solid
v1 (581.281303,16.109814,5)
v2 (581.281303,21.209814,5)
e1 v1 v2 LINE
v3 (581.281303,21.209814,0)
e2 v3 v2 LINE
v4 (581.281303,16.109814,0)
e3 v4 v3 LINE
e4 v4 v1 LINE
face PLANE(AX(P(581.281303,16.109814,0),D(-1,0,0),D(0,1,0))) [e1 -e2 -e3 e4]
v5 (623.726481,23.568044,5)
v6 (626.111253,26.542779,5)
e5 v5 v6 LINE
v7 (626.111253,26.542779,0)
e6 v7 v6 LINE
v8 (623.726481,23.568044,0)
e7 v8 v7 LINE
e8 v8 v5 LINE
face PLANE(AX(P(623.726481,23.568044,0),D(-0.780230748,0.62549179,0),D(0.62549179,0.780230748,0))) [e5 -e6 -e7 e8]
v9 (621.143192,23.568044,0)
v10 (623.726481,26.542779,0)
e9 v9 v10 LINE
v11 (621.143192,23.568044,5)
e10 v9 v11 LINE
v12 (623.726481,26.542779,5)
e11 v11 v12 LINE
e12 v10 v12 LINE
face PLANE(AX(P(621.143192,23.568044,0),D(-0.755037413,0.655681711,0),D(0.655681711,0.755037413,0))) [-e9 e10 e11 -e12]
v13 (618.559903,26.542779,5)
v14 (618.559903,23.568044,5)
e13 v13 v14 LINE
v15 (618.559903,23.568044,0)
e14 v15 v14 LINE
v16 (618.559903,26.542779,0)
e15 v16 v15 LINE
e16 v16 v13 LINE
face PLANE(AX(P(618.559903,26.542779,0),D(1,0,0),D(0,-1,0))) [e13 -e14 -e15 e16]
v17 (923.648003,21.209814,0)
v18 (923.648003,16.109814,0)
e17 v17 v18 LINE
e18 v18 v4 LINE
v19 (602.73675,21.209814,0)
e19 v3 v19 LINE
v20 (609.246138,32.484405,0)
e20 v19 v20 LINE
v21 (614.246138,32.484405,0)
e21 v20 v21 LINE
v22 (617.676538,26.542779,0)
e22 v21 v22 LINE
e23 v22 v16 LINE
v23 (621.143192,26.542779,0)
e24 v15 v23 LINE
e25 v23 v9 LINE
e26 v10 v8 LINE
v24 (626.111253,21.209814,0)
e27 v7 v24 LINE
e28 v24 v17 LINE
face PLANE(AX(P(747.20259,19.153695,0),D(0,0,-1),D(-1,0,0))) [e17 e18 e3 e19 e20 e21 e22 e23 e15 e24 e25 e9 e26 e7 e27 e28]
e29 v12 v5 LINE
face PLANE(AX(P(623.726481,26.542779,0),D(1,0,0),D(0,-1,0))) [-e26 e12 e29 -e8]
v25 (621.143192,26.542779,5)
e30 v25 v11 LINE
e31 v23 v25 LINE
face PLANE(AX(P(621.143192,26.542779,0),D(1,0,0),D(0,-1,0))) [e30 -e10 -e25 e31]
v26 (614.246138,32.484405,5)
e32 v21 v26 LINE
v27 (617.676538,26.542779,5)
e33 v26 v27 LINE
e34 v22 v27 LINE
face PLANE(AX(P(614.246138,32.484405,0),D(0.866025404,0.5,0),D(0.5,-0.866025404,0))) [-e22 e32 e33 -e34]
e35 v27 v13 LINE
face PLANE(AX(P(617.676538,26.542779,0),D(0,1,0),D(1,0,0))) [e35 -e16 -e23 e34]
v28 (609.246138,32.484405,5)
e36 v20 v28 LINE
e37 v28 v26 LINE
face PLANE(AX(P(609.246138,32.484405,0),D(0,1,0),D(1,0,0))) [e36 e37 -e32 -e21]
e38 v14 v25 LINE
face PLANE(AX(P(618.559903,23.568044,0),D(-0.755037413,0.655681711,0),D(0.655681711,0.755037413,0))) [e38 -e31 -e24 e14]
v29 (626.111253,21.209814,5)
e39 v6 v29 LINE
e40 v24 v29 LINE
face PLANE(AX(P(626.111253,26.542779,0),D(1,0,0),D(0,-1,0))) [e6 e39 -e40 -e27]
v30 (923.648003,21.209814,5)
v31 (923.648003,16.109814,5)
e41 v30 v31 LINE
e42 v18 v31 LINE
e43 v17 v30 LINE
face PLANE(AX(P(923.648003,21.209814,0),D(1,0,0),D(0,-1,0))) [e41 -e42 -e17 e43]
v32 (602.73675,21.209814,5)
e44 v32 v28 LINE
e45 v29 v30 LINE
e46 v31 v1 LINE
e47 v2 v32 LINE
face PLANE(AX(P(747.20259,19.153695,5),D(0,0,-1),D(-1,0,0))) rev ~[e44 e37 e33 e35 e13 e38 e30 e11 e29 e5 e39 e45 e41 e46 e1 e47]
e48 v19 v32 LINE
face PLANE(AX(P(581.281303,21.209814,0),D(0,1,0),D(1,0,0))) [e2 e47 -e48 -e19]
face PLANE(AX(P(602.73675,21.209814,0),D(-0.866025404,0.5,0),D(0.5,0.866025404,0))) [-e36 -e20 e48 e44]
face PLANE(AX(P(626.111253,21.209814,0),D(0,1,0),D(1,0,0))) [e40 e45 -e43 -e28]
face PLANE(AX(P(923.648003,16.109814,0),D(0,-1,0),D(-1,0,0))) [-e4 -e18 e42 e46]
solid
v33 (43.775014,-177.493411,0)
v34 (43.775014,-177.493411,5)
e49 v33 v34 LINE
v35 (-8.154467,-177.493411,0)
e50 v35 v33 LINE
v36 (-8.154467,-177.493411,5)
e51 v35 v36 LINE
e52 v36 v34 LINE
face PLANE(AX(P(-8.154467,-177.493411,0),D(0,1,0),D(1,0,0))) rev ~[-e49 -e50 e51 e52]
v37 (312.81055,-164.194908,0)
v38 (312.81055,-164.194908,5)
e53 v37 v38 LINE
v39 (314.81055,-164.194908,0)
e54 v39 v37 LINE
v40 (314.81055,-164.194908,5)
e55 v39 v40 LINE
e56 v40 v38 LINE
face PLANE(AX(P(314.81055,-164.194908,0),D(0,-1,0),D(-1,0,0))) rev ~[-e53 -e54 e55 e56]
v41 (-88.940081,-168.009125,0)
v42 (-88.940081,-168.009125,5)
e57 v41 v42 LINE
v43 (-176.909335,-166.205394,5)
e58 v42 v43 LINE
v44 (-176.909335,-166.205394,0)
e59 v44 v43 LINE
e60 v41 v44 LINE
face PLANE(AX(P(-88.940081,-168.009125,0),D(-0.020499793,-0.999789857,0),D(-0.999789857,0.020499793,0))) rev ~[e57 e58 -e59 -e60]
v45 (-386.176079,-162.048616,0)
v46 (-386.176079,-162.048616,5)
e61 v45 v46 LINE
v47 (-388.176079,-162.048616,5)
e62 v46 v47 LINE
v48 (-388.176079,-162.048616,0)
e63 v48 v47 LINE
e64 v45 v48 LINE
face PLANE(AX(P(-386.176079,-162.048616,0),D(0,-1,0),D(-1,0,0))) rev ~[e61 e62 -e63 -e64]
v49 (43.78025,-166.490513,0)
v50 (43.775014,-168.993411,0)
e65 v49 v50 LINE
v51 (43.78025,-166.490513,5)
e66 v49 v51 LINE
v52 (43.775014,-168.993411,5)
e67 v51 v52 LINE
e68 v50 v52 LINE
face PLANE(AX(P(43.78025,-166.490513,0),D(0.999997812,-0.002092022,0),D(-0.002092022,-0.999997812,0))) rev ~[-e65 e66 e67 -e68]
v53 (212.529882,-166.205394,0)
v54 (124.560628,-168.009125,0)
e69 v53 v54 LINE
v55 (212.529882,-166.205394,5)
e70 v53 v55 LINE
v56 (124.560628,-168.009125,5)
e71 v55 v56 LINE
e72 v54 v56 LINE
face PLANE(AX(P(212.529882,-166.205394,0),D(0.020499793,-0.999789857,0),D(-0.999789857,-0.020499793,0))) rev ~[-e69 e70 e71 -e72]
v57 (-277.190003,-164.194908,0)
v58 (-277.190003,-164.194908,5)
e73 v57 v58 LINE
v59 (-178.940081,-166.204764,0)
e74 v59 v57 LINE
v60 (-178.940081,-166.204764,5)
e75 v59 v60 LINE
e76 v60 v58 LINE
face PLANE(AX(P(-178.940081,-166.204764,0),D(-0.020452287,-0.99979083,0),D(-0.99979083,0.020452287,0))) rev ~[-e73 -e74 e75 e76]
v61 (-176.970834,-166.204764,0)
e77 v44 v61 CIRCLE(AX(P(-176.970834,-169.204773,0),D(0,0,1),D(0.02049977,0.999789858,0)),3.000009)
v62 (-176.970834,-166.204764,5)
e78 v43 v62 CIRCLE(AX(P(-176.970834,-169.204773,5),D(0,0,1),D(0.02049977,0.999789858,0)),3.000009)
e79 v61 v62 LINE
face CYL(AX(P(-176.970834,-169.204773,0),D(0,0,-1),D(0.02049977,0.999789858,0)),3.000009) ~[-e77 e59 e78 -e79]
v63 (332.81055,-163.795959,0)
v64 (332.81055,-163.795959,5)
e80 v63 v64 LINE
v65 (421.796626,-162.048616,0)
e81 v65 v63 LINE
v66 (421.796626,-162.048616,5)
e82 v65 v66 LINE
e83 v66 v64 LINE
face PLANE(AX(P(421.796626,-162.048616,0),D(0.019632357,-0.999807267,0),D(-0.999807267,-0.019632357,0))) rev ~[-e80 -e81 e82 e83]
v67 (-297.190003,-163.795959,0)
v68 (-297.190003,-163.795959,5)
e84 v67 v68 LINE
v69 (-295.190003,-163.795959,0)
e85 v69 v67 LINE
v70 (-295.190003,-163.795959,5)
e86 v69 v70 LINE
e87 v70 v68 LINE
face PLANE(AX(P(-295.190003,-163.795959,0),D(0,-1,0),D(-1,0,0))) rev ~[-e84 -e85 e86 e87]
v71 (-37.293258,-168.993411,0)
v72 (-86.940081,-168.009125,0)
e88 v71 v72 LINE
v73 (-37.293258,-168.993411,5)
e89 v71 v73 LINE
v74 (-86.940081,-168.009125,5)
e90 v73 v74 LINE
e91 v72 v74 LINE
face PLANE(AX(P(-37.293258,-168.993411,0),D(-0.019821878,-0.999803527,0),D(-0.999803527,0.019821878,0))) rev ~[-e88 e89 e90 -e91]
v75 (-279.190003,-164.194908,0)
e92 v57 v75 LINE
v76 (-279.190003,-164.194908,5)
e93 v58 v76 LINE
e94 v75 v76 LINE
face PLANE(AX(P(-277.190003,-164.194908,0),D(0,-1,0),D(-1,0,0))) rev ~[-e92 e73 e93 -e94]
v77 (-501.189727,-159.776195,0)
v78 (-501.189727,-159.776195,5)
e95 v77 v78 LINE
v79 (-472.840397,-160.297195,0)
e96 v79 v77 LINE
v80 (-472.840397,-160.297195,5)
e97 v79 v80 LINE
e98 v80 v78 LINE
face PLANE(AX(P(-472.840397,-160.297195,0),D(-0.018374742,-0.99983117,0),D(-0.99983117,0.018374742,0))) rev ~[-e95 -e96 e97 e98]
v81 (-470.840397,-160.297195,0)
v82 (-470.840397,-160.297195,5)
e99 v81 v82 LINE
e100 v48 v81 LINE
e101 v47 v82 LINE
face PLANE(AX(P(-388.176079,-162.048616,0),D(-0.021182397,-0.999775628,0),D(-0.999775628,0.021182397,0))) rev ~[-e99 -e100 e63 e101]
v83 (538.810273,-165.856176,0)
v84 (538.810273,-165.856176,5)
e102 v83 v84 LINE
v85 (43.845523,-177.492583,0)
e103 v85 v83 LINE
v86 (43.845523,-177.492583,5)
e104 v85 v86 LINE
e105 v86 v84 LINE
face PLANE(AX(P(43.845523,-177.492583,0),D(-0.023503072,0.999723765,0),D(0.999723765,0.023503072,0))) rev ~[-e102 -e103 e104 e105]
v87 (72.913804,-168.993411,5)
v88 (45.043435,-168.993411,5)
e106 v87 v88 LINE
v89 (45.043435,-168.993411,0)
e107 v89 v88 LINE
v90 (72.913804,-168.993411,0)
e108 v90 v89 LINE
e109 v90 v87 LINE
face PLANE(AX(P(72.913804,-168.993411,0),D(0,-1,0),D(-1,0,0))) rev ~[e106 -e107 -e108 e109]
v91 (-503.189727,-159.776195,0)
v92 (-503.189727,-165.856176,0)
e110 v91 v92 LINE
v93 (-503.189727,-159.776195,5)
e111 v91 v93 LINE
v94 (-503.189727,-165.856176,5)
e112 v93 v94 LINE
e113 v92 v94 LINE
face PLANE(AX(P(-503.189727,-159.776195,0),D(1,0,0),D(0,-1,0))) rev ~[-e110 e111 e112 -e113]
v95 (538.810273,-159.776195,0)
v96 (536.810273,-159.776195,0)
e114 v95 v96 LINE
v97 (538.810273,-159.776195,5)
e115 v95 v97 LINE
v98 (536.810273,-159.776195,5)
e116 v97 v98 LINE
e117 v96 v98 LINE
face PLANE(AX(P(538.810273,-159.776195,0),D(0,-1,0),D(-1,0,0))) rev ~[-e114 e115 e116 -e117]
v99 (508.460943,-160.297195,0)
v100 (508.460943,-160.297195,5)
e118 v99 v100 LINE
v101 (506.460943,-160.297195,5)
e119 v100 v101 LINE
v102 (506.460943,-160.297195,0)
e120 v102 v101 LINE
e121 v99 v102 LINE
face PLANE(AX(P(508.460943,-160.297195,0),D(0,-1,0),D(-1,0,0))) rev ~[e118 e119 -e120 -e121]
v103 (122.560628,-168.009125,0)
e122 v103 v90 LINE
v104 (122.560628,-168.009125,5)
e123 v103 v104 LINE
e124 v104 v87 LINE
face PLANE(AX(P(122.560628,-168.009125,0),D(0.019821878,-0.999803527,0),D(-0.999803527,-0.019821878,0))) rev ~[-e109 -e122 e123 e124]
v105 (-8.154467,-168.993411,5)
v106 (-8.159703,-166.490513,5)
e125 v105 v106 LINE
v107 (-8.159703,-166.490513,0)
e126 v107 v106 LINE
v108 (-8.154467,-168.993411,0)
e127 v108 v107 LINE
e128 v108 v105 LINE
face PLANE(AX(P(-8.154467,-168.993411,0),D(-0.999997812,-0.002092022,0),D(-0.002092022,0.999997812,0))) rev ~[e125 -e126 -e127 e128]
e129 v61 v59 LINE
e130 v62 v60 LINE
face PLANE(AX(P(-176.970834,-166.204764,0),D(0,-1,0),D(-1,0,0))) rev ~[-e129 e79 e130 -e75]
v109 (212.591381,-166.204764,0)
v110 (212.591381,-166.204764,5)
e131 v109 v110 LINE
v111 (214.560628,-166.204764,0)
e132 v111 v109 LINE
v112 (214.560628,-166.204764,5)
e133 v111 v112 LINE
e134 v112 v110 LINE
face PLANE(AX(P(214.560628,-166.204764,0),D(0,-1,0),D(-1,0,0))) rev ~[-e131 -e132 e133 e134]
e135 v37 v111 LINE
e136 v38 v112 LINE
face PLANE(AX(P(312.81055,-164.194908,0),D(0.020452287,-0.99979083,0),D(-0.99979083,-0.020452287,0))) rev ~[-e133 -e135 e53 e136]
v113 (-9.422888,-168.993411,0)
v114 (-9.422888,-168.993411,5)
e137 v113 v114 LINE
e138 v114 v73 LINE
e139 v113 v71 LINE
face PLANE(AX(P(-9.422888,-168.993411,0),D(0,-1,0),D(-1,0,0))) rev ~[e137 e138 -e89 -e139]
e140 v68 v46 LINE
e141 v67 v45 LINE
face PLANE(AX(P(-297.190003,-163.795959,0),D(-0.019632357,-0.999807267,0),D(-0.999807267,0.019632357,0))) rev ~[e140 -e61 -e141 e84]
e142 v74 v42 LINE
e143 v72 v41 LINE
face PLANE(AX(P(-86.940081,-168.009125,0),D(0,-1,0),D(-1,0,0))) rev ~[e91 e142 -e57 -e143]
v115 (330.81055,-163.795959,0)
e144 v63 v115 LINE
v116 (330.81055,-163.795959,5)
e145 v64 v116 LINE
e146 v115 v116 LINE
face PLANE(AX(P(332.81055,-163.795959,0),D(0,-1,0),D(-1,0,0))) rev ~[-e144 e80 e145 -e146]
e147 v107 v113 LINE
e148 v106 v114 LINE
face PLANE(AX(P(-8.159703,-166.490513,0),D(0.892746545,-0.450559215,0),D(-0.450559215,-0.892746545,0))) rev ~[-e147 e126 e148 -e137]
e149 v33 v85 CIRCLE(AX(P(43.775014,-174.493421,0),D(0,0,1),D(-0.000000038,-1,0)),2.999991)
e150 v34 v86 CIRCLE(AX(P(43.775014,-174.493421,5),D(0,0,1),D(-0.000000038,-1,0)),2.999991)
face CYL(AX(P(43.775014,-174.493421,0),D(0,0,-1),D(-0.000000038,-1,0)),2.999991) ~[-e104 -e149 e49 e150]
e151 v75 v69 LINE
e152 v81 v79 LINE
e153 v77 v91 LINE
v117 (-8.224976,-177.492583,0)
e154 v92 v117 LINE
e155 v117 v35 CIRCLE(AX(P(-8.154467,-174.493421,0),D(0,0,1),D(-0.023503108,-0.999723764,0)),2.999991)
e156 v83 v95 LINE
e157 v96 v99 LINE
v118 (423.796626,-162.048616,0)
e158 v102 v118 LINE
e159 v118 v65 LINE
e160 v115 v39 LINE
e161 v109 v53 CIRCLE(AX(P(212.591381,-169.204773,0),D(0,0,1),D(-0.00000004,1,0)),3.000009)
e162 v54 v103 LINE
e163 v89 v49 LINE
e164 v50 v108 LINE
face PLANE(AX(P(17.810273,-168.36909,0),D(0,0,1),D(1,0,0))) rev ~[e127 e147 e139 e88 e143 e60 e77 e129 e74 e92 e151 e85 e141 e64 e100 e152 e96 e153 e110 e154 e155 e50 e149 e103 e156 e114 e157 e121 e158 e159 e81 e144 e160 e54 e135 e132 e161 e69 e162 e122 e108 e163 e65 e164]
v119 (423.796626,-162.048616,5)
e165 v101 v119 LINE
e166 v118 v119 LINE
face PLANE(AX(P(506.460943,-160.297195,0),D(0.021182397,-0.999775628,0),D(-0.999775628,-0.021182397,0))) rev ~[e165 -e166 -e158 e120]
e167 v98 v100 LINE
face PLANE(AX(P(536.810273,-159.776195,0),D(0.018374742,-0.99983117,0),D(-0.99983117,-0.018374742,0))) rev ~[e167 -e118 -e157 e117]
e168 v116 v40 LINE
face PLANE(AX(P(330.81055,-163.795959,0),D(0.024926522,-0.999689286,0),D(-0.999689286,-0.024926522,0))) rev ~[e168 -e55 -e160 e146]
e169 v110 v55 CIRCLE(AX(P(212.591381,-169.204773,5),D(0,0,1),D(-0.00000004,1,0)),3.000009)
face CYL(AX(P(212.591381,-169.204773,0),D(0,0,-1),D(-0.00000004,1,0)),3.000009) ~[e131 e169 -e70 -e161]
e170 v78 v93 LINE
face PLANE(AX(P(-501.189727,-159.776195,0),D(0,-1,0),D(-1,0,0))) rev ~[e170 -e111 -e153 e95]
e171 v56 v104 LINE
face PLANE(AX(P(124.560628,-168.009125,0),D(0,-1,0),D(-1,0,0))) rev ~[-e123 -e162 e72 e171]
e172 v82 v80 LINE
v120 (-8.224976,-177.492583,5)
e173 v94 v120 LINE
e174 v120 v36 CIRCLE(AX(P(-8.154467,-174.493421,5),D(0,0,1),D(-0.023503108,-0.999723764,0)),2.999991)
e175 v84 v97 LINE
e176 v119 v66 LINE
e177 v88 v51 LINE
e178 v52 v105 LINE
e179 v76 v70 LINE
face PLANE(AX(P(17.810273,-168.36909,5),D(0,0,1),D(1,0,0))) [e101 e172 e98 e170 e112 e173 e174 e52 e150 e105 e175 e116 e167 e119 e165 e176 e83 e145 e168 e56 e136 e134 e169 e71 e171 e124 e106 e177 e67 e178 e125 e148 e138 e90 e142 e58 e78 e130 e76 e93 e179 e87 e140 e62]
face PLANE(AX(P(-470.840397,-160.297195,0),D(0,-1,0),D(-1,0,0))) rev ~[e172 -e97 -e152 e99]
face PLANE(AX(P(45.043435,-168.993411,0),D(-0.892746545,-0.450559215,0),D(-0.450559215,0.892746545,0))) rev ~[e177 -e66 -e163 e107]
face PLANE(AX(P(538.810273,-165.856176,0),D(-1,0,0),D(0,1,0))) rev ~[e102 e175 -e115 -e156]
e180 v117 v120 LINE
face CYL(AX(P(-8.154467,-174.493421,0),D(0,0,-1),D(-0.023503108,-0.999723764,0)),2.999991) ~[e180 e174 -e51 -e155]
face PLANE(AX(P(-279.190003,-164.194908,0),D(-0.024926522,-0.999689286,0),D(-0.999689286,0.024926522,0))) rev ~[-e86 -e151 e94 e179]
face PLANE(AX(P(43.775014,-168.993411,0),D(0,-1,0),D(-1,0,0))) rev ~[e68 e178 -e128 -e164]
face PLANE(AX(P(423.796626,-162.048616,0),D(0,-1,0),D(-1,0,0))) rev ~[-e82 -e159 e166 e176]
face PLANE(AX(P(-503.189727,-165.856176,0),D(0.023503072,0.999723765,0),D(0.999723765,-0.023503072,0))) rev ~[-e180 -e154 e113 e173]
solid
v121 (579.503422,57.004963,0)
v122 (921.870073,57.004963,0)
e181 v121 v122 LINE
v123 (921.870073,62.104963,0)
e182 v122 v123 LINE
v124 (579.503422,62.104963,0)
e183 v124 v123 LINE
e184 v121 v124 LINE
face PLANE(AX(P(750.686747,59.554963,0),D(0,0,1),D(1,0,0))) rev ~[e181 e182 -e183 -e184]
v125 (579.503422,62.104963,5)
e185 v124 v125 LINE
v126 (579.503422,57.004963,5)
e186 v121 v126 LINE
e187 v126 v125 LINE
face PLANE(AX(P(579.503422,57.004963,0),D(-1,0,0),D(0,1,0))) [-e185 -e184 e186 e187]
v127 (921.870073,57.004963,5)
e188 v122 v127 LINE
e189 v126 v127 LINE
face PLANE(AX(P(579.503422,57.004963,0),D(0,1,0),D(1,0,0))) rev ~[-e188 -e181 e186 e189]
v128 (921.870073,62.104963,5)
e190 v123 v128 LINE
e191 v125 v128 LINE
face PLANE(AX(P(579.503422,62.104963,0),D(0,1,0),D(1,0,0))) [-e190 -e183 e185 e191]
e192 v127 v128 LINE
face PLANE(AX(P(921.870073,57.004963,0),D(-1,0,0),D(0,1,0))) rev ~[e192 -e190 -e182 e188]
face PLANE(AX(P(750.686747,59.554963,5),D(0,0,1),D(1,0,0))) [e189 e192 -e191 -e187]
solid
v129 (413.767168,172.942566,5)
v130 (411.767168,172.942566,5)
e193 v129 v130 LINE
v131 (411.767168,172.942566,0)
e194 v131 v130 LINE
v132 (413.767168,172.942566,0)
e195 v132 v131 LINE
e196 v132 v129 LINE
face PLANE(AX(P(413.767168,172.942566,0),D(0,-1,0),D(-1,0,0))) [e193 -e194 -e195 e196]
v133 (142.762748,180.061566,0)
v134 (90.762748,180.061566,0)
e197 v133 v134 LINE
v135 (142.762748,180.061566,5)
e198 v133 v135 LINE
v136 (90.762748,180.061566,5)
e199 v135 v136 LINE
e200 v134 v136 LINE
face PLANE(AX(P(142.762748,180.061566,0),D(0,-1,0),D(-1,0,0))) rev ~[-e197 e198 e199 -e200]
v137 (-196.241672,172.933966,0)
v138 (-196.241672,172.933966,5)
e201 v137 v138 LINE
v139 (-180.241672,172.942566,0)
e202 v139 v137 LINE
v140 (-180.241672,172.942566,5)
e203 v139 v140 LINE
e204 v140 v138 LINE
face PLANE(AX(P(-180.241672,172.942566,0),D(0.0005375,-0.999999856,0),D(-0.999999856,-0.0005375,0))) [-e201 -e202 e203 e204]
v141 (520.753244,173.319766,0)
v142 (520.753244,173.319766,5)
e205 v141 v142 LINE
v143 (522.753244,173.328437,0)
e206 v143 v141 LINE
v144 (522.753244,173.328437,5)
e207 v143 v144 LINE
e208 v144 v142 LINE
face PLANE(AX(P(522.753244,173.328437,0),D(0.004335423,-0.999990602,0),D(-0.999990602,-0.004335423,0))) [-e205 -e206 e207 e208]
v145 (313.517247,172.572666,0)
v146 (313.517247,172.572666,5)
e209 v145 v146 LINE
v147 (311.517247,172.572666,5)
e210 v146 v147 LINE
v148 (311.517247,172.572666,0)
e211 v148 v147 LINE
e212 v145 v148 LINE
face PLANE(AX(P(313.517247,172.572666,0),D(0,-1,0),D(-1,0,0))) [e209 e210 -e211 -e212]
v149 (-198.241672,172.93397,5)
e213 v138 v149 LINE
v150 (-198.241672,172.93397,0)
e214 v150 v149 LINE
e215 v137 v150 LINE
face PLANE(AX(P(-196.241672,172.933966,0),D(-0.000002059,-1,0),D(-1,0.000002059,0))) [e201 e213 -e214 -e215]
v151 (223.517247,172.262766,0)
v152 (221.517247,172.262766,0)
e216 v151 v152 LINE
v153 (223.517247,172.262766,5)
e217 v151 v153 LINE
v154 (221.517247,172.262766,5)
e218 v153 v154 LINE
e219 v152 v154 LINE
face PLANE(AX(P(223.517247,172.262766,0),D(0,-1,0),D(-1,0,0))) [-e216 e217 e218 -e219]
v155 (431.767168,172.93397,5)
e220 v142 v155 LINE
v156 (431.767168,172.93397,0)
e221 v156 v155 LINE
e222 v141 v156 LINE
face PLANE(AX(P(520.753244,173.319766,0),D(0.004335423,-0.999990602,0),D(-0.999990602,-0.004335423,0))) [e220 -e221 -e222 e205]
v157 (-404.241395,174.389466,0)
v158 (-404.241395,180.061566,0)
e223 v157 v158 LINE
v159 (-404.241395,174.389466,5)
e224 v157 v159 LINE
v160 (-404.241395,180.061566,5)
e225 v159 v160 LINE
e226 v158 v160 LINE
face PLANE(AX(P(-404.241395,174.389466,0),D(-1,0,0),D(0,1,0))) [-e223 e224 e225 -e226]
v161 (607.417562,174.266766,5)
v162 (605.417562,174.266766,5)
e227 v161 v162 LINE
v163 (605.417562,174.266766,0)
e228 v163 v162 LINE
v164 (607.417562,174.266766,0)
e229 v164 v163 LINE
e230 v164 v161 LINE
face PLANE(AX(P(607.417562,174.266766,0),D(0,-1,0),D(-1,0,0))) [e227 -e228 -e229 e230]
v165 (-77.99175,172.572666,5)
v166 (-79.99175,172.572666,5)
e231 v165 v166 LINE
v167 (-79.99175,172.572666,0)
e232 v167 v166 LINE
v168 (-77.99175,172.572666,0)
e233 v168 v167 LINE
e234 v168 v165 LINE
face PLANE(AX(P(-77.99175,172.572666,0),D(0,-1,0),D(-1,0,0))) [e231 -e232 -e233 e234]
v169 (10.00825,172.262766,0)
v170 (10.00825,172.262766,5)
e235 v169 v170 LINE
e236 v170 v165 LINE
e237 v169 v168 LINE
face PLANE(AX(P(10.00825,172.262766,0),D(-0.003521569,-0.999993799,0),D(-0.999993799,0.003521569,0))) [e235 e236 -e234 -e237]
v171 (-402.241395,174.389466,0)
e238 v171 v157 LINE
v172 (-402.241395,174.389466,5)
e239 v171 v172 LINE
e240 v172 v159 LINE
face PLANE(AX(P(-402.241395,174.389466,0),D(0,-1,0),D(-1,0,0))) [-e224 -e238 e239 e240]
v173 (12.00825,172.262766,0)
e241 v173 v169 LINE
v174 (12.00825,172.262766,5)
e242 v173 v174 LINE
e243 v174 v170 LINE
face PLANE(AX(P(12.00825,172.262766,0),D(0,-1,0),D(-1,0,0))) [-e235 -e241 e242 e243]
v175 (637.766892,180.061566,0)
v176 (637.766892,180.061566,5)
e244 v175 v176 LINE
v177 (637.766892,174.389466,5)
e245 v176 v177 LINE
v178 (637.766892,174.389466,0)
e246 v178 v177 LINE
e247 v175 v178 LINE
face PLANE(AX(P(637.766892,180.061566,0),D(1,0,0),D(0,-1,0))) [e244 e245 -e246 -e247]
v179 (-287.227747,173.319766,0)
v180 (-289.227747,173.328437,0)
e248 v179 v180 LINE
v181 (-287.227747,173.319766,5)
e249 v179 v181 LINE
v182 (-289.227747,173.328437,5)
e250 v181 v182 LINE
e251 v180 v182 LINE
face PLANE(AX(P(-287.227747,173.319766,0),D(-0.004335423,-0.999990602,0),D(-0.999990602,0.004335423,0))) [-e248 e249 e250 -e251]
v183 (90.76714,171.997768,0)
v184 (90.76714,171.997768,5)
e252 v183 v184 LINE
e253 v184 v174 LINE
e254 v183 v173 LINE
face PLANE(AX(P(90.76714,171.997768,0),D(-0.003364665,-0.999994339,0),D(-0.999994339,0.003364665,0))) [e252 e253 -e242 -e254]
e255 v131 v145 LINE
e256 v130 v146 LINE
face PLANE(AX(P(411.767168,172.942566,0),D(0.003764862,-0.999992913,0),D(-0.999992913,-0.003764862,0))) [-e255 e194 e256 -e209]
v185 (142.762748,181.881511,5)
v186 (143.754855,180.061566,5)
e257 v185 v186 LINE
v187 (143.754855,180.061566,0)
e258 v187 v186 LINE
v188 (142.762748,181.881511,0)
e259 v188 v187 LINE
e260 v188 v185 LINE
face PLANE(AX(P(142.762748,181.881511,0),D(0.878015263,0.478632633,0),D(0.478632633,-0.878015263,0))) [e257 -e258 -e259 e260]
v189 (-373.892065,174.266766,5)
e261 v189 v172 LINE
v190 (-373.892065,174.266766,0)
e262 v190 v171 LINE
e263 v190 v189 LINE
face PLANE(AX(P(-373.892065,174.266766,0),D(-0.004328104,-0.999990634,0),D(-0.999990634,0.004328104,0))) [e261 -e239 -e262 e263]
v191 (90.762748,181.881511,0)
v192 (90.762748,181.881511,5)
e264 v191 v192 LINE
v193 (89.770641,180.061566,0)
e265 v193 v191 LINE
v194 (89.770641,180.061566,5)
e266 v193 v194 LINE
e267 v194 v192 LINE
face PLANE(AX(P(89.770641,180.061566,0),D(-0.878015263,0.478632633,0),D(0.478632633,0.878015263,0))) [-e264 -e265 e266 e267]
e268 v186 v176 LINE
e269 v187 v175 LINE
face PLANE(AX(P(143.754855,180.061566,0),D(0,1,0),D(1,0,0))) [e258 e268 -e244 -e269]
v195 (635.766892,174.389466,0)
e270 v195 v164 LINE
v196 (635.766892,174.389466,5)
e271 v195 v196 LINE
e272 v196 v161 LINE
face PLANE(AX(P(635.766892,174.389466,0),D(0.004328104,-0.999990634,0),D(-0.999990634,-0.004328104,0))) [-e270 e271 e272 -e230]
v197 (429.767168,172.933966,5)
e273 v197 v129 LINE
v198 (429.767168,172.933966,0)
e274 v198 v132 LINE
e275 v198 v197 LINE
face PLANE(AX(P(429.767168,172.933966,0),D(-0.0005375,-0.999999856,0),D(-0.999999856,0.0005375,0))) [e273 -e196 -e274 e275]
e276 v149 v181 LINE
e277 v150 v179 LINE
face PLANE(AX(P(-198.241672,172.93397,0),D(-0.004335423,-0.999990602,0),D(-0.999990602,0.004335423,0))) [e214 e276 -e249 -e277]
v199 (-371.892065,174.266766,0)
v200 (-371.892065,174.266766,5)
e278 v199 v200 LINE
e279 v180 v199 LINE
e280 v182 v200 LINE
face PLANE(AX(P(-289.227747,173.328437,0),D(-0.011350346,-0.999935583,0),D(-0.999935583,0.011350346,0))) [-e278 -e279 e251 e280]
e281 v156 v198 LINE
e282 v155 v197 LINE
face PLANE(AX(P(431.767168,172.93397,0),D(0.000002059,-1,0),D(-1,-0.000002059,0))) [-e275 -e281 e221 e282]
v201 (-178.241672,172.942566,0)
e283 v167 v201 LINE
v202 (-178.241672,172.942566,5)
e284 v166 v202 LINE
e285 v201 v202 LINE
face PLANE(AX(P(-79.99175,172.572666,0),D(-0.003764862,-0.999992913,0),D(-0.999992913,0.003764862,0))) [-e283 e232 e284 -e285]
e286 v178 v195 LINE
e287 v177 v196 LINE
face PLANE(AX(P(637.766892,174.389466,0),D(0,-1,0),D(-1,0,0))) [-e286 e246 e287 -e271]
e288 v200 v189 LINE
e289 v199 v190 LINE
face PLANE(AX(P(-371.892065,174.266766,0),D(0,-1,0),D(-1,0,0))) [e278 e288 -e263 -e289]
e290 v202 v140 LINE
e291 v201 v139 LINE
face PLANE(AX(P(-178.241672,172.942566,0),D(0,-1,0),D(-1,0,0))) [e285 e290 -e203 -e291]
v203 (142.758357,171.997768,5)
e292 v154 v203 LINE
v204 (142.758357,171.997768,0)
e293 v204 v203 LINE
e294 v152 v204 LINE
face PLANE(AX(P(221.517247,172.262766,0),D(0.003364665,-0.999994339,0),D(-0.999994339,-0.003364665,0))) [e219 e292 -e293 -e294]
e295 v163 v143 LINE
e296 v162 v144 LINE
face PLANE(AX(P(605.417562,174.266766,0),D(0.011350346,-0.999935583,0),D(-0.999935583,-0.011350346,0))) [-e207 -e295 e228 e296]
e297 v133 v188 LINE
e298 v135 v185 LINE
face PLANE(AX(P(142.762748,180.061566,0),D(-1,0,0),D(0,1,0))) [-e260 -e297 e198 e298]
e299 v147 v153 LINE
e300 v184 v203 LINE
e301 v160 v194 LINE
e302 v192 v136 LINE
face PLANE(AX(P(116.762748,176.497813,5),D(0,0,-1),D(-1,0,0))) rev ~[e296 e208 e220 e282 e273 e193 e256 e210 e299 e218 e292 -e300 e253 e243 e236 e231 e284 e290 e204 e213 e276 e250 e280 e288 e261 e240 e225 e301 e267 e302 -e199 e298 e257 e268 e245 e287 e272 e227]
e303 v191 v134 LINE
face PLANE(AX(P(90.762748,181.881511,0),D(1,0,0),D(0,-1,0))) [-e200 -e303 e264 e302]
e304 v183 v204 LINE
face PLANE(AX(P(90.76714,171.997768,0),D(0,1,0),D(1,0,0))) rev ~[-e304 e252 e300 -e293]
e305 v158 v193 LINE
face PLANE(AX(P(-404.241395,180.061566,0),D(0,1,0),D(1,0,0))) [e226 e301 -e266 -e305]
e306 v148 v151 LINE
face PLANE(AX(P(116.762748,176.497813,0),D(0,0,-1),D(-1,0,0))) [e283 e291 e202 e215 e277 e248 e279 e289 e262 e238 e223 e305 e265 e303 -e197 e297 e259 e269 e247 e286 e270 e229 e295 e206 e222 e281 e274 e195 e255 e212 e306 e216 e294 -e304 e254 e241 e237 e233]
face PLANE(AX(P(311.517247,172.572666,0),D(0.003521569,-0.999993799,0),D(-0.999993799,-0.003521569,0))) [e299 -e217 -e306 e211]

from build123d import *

# Parameters (mm, degrees)
MODEL_W           = 342.366650955
MODEL_H           = 5.1
EXTRUDE_1_DEPTH   = 5
EXTRUDE_1_2_DEPTH = 5
EXTRUDE_1_3_DEPTH = 5
EXTRUDE_1_4_DEPTH = 5


with BuildPart() as part:
    # Model → 凸台-拉伸1 (new body)
    with BuildSketch(Plane.XY):
        with Locations((750.686747378, 59.554962924)):
            Rectangle(MODEL_W, MODEL_H)
    extrude(amount=EXTRUDE_1_DEPTH)


with BuildPart() as body_2:
    # Model → Extrude 1 2 (new body)
    with BuildSketch(Plane.XY):
        Polygon((614.246138188, 32.484405329), (617.67653772, 26.54277905), (618.559903109, 26.54277905), (618.559903109, 23.568043607), (621.143191819, 26.54277905), (621.143191819, 23.568043607), (623.726480529, 26.54277905), (623.726480529, 23.568043607), (626.111252729, 26.54277905), (626.111252729, 21.209813756), (923.648003194, 21.209813756), (923.648003194, 16.109813756), (581.281303194, 16.109813756), (581.281303194, 21.209813756), (602.736749709, 21.209813756), (609.246138188, 32.484405329), align=None)
    extrude(amount=EXTRUDE_1_2_DEPTH)


with BuildPart() as body_3:
    # Model → Extrude 1 3 (new body)
    with BuildSketch(Plane.XY):
        Polygon((143.754855357, 180.061566324), (637.766892066, 180.061566324), (637.766892066, 174.389466324), (635.766892066, 174.389466324), (607.417562069, 174.266766324), (605.417562069, 174.266766324), (522.753244134, 173.328437251), (520.753244134, 173.319766324), (431.767168163, 172.933970442), (429.767168163, 172.933966324), (413.767168163, 172.942566324), (411.767168163, 172.942566324), (313.517246909, 172.572666324), (311.517246909, 172.572666324), (223.517246909, 172.262766324), (221.517246909, 172.262766324), (142.758356713, 171.99776752), (116.762748322, 171.99776752), (90.767139931, 171.99776752), (12.008249736, 172.262766324), (10.008249736, 172.262766324), (-77.991750264, 172.572666324), (-79.991750264, 172.572666324), (-178.241671518, 172.942566324), (-180.241671518, 172.942566324), (-196.241671518, 172.933966324), (-198.241671518, 172.933970442), (-287.227747489, 173.319766324), (-289.227747489, 173.328437251), (-371.892065424, 174.266766324), (-373.892065424, 174.266766324), (-402.241395422, 174.389466324), (-404.241395422, 174.389466324), (-404.241395422, 180.061566324), (89.770641288, 180.061566324), (90.762748322, 181.881511431), (90.762748322, 180.061566324), (116.762748322, 180.061566324), (142.762748322, 180.061566324), (142.762748322, 181.881511431), align=None)
    extrude(amount=EXTRUDE_1_3_DEPTH)


with BuildPart() as body_4:
    # Model → Extrude 1 4 (new body)
    with BuildSketch(Plane.XY):
        with BuildLine():
            Line((43.845523177, -177.492582663), (538.81027344, -165.856176204))
            Line((538.81027344, -165.856176204), (538.81027344, -159.776195336))
            Line((538.81027344, -159.776195336), (536.81027344, -159.776195336))
            Line((536.81027344, -159.776195336), (508.460943442, -160.297194912))
            Line((508.460943442, -160.297194912), (506.460943442, -160.297194912))
            Line((506.460943442, -160.297194912), (423.796625507, -162.048616282))
            Line((423.796625507, -162.048616282), (421.796625507, -162.048616282))
            Line((421.796625507, -162.048616282), (332.810549536, -163.795959439))
            Line((332.810549536, -163.795959439), (330.810549536, -163.795959439))
            Line((330.810549536, -163.795959439), (314.810549536, -164.194907743))
            Line((314.810549536, -164.194907743), (312.810549536, -164.194907743))
            Line((312.810549536, -164.194907743), (214.560628282, -166.204763766))
            Line((214.560628282, -166.204763766), (212.591381202, -166.204763766))
            ThreePointArc((212.591381202, -166.204763766), (212.560629898, -166.204921378), (212.529881824, -166.205394195))
            Line((212.529881824, -166.205394195), (124.560628282, -168.009124705))
            Line((124.560628282, -168.009124705), (122.560628282, -168.009124705))
            Line((122.560628282, -168.009124705), (72.913804388, -168.993411369))
            Line((72.913804388, -168.993411369), (45.043435184, -168.993411369))
            Line((45.043435184, -168.993411369), (43.780250092, -166.49051255))
            Line((43.780250092, -166.49051255), (43.775013962, -168.993411369))
            Line((43.775013962, -168.993411369), (17.81027344, -168.993411369))
            Line((17.81027344, -168.993411369), (-8.154467083, -168.993411369))
            Line((-8.154467083, -168.993411369), (-8.159703213, -166.49051255))
            Line((-8.159703213, -166.49051255), (-9.422888304, -168.993411369))
            Line((-9.422888304, -168.993411369), (-37.293257509, -168.993411369))
            Line((-37.293257509, -168.993411369), (-86.940081403, -168.009124705))
            Line((-86.940081403, -168.009124705), (-88.940081403, -168.009124705))
            Line((-88.940081403, -168.009124705), (-176.909334945, -166.205394195))
            ThreePointArc((-176.909334945, -166.205394195), (-176.940083018, -166.204921378), (-176.970834323, -166.204763766))
            Line((-176.970834323, -166.204763766), (-178.940081403, -166.204763766))
            Line((-178.940081403, -166.204763766), (-277.190002657, -164.194907743))
            Line((-277.190002657, -164.194907743), (-279.190002657, -164.194907743))
            Line((-279.190002657, -164.194907743), (-295.190002657, -163.795959439))
            Line((-295.190002657, -163.795959439), (-297.190002657, -163.795959439))
            Line((-297.190002657, -163.795959439), (-386.176078628, -162.048616282))
            Line((-386.176078628, -162.048616282), (-388.176078628, -162.048616282))
            Line((-388.176078628, -162.048616282), (-470.840396563, -160.297194912))
            Line((-470.840396563, -160.297194912), (-472.840396563, -160.297194912))
            Line((-472.840396563, -160.297194912), (-501.18972656, -159.776195336))
            Line((-501.18972656, -159.776195336), (-503.18972656, -159.776195336))
            Line((-503.18972656, -159.776195336), (-503.18972656, -165.856176204))
            Line((-503.18972656, -165.856176204), (-8.224976298, -177.492582663))
            ThreePointArc((-8.224976298, -177.492582663), (-8.189724125, -177.493204186), (-8.154467083, -177.493411369))
            Line((-8.154467083, -177.493411369), (17.81027344, -177.493411369))
            Line((17.81027344, -177.493411369), (43.775013962, -177.493411369))
            ThreePointArc((43.775013962, -177.493411369), (43.810271005, -177.493204186), (43.845523177, -177.492582663))
        make_face()
    extrude(amount=EXTRUDE_1_4_DEPTH)


solid = Compound([part.part, body_2.part, body_3.part, body_4.part])
